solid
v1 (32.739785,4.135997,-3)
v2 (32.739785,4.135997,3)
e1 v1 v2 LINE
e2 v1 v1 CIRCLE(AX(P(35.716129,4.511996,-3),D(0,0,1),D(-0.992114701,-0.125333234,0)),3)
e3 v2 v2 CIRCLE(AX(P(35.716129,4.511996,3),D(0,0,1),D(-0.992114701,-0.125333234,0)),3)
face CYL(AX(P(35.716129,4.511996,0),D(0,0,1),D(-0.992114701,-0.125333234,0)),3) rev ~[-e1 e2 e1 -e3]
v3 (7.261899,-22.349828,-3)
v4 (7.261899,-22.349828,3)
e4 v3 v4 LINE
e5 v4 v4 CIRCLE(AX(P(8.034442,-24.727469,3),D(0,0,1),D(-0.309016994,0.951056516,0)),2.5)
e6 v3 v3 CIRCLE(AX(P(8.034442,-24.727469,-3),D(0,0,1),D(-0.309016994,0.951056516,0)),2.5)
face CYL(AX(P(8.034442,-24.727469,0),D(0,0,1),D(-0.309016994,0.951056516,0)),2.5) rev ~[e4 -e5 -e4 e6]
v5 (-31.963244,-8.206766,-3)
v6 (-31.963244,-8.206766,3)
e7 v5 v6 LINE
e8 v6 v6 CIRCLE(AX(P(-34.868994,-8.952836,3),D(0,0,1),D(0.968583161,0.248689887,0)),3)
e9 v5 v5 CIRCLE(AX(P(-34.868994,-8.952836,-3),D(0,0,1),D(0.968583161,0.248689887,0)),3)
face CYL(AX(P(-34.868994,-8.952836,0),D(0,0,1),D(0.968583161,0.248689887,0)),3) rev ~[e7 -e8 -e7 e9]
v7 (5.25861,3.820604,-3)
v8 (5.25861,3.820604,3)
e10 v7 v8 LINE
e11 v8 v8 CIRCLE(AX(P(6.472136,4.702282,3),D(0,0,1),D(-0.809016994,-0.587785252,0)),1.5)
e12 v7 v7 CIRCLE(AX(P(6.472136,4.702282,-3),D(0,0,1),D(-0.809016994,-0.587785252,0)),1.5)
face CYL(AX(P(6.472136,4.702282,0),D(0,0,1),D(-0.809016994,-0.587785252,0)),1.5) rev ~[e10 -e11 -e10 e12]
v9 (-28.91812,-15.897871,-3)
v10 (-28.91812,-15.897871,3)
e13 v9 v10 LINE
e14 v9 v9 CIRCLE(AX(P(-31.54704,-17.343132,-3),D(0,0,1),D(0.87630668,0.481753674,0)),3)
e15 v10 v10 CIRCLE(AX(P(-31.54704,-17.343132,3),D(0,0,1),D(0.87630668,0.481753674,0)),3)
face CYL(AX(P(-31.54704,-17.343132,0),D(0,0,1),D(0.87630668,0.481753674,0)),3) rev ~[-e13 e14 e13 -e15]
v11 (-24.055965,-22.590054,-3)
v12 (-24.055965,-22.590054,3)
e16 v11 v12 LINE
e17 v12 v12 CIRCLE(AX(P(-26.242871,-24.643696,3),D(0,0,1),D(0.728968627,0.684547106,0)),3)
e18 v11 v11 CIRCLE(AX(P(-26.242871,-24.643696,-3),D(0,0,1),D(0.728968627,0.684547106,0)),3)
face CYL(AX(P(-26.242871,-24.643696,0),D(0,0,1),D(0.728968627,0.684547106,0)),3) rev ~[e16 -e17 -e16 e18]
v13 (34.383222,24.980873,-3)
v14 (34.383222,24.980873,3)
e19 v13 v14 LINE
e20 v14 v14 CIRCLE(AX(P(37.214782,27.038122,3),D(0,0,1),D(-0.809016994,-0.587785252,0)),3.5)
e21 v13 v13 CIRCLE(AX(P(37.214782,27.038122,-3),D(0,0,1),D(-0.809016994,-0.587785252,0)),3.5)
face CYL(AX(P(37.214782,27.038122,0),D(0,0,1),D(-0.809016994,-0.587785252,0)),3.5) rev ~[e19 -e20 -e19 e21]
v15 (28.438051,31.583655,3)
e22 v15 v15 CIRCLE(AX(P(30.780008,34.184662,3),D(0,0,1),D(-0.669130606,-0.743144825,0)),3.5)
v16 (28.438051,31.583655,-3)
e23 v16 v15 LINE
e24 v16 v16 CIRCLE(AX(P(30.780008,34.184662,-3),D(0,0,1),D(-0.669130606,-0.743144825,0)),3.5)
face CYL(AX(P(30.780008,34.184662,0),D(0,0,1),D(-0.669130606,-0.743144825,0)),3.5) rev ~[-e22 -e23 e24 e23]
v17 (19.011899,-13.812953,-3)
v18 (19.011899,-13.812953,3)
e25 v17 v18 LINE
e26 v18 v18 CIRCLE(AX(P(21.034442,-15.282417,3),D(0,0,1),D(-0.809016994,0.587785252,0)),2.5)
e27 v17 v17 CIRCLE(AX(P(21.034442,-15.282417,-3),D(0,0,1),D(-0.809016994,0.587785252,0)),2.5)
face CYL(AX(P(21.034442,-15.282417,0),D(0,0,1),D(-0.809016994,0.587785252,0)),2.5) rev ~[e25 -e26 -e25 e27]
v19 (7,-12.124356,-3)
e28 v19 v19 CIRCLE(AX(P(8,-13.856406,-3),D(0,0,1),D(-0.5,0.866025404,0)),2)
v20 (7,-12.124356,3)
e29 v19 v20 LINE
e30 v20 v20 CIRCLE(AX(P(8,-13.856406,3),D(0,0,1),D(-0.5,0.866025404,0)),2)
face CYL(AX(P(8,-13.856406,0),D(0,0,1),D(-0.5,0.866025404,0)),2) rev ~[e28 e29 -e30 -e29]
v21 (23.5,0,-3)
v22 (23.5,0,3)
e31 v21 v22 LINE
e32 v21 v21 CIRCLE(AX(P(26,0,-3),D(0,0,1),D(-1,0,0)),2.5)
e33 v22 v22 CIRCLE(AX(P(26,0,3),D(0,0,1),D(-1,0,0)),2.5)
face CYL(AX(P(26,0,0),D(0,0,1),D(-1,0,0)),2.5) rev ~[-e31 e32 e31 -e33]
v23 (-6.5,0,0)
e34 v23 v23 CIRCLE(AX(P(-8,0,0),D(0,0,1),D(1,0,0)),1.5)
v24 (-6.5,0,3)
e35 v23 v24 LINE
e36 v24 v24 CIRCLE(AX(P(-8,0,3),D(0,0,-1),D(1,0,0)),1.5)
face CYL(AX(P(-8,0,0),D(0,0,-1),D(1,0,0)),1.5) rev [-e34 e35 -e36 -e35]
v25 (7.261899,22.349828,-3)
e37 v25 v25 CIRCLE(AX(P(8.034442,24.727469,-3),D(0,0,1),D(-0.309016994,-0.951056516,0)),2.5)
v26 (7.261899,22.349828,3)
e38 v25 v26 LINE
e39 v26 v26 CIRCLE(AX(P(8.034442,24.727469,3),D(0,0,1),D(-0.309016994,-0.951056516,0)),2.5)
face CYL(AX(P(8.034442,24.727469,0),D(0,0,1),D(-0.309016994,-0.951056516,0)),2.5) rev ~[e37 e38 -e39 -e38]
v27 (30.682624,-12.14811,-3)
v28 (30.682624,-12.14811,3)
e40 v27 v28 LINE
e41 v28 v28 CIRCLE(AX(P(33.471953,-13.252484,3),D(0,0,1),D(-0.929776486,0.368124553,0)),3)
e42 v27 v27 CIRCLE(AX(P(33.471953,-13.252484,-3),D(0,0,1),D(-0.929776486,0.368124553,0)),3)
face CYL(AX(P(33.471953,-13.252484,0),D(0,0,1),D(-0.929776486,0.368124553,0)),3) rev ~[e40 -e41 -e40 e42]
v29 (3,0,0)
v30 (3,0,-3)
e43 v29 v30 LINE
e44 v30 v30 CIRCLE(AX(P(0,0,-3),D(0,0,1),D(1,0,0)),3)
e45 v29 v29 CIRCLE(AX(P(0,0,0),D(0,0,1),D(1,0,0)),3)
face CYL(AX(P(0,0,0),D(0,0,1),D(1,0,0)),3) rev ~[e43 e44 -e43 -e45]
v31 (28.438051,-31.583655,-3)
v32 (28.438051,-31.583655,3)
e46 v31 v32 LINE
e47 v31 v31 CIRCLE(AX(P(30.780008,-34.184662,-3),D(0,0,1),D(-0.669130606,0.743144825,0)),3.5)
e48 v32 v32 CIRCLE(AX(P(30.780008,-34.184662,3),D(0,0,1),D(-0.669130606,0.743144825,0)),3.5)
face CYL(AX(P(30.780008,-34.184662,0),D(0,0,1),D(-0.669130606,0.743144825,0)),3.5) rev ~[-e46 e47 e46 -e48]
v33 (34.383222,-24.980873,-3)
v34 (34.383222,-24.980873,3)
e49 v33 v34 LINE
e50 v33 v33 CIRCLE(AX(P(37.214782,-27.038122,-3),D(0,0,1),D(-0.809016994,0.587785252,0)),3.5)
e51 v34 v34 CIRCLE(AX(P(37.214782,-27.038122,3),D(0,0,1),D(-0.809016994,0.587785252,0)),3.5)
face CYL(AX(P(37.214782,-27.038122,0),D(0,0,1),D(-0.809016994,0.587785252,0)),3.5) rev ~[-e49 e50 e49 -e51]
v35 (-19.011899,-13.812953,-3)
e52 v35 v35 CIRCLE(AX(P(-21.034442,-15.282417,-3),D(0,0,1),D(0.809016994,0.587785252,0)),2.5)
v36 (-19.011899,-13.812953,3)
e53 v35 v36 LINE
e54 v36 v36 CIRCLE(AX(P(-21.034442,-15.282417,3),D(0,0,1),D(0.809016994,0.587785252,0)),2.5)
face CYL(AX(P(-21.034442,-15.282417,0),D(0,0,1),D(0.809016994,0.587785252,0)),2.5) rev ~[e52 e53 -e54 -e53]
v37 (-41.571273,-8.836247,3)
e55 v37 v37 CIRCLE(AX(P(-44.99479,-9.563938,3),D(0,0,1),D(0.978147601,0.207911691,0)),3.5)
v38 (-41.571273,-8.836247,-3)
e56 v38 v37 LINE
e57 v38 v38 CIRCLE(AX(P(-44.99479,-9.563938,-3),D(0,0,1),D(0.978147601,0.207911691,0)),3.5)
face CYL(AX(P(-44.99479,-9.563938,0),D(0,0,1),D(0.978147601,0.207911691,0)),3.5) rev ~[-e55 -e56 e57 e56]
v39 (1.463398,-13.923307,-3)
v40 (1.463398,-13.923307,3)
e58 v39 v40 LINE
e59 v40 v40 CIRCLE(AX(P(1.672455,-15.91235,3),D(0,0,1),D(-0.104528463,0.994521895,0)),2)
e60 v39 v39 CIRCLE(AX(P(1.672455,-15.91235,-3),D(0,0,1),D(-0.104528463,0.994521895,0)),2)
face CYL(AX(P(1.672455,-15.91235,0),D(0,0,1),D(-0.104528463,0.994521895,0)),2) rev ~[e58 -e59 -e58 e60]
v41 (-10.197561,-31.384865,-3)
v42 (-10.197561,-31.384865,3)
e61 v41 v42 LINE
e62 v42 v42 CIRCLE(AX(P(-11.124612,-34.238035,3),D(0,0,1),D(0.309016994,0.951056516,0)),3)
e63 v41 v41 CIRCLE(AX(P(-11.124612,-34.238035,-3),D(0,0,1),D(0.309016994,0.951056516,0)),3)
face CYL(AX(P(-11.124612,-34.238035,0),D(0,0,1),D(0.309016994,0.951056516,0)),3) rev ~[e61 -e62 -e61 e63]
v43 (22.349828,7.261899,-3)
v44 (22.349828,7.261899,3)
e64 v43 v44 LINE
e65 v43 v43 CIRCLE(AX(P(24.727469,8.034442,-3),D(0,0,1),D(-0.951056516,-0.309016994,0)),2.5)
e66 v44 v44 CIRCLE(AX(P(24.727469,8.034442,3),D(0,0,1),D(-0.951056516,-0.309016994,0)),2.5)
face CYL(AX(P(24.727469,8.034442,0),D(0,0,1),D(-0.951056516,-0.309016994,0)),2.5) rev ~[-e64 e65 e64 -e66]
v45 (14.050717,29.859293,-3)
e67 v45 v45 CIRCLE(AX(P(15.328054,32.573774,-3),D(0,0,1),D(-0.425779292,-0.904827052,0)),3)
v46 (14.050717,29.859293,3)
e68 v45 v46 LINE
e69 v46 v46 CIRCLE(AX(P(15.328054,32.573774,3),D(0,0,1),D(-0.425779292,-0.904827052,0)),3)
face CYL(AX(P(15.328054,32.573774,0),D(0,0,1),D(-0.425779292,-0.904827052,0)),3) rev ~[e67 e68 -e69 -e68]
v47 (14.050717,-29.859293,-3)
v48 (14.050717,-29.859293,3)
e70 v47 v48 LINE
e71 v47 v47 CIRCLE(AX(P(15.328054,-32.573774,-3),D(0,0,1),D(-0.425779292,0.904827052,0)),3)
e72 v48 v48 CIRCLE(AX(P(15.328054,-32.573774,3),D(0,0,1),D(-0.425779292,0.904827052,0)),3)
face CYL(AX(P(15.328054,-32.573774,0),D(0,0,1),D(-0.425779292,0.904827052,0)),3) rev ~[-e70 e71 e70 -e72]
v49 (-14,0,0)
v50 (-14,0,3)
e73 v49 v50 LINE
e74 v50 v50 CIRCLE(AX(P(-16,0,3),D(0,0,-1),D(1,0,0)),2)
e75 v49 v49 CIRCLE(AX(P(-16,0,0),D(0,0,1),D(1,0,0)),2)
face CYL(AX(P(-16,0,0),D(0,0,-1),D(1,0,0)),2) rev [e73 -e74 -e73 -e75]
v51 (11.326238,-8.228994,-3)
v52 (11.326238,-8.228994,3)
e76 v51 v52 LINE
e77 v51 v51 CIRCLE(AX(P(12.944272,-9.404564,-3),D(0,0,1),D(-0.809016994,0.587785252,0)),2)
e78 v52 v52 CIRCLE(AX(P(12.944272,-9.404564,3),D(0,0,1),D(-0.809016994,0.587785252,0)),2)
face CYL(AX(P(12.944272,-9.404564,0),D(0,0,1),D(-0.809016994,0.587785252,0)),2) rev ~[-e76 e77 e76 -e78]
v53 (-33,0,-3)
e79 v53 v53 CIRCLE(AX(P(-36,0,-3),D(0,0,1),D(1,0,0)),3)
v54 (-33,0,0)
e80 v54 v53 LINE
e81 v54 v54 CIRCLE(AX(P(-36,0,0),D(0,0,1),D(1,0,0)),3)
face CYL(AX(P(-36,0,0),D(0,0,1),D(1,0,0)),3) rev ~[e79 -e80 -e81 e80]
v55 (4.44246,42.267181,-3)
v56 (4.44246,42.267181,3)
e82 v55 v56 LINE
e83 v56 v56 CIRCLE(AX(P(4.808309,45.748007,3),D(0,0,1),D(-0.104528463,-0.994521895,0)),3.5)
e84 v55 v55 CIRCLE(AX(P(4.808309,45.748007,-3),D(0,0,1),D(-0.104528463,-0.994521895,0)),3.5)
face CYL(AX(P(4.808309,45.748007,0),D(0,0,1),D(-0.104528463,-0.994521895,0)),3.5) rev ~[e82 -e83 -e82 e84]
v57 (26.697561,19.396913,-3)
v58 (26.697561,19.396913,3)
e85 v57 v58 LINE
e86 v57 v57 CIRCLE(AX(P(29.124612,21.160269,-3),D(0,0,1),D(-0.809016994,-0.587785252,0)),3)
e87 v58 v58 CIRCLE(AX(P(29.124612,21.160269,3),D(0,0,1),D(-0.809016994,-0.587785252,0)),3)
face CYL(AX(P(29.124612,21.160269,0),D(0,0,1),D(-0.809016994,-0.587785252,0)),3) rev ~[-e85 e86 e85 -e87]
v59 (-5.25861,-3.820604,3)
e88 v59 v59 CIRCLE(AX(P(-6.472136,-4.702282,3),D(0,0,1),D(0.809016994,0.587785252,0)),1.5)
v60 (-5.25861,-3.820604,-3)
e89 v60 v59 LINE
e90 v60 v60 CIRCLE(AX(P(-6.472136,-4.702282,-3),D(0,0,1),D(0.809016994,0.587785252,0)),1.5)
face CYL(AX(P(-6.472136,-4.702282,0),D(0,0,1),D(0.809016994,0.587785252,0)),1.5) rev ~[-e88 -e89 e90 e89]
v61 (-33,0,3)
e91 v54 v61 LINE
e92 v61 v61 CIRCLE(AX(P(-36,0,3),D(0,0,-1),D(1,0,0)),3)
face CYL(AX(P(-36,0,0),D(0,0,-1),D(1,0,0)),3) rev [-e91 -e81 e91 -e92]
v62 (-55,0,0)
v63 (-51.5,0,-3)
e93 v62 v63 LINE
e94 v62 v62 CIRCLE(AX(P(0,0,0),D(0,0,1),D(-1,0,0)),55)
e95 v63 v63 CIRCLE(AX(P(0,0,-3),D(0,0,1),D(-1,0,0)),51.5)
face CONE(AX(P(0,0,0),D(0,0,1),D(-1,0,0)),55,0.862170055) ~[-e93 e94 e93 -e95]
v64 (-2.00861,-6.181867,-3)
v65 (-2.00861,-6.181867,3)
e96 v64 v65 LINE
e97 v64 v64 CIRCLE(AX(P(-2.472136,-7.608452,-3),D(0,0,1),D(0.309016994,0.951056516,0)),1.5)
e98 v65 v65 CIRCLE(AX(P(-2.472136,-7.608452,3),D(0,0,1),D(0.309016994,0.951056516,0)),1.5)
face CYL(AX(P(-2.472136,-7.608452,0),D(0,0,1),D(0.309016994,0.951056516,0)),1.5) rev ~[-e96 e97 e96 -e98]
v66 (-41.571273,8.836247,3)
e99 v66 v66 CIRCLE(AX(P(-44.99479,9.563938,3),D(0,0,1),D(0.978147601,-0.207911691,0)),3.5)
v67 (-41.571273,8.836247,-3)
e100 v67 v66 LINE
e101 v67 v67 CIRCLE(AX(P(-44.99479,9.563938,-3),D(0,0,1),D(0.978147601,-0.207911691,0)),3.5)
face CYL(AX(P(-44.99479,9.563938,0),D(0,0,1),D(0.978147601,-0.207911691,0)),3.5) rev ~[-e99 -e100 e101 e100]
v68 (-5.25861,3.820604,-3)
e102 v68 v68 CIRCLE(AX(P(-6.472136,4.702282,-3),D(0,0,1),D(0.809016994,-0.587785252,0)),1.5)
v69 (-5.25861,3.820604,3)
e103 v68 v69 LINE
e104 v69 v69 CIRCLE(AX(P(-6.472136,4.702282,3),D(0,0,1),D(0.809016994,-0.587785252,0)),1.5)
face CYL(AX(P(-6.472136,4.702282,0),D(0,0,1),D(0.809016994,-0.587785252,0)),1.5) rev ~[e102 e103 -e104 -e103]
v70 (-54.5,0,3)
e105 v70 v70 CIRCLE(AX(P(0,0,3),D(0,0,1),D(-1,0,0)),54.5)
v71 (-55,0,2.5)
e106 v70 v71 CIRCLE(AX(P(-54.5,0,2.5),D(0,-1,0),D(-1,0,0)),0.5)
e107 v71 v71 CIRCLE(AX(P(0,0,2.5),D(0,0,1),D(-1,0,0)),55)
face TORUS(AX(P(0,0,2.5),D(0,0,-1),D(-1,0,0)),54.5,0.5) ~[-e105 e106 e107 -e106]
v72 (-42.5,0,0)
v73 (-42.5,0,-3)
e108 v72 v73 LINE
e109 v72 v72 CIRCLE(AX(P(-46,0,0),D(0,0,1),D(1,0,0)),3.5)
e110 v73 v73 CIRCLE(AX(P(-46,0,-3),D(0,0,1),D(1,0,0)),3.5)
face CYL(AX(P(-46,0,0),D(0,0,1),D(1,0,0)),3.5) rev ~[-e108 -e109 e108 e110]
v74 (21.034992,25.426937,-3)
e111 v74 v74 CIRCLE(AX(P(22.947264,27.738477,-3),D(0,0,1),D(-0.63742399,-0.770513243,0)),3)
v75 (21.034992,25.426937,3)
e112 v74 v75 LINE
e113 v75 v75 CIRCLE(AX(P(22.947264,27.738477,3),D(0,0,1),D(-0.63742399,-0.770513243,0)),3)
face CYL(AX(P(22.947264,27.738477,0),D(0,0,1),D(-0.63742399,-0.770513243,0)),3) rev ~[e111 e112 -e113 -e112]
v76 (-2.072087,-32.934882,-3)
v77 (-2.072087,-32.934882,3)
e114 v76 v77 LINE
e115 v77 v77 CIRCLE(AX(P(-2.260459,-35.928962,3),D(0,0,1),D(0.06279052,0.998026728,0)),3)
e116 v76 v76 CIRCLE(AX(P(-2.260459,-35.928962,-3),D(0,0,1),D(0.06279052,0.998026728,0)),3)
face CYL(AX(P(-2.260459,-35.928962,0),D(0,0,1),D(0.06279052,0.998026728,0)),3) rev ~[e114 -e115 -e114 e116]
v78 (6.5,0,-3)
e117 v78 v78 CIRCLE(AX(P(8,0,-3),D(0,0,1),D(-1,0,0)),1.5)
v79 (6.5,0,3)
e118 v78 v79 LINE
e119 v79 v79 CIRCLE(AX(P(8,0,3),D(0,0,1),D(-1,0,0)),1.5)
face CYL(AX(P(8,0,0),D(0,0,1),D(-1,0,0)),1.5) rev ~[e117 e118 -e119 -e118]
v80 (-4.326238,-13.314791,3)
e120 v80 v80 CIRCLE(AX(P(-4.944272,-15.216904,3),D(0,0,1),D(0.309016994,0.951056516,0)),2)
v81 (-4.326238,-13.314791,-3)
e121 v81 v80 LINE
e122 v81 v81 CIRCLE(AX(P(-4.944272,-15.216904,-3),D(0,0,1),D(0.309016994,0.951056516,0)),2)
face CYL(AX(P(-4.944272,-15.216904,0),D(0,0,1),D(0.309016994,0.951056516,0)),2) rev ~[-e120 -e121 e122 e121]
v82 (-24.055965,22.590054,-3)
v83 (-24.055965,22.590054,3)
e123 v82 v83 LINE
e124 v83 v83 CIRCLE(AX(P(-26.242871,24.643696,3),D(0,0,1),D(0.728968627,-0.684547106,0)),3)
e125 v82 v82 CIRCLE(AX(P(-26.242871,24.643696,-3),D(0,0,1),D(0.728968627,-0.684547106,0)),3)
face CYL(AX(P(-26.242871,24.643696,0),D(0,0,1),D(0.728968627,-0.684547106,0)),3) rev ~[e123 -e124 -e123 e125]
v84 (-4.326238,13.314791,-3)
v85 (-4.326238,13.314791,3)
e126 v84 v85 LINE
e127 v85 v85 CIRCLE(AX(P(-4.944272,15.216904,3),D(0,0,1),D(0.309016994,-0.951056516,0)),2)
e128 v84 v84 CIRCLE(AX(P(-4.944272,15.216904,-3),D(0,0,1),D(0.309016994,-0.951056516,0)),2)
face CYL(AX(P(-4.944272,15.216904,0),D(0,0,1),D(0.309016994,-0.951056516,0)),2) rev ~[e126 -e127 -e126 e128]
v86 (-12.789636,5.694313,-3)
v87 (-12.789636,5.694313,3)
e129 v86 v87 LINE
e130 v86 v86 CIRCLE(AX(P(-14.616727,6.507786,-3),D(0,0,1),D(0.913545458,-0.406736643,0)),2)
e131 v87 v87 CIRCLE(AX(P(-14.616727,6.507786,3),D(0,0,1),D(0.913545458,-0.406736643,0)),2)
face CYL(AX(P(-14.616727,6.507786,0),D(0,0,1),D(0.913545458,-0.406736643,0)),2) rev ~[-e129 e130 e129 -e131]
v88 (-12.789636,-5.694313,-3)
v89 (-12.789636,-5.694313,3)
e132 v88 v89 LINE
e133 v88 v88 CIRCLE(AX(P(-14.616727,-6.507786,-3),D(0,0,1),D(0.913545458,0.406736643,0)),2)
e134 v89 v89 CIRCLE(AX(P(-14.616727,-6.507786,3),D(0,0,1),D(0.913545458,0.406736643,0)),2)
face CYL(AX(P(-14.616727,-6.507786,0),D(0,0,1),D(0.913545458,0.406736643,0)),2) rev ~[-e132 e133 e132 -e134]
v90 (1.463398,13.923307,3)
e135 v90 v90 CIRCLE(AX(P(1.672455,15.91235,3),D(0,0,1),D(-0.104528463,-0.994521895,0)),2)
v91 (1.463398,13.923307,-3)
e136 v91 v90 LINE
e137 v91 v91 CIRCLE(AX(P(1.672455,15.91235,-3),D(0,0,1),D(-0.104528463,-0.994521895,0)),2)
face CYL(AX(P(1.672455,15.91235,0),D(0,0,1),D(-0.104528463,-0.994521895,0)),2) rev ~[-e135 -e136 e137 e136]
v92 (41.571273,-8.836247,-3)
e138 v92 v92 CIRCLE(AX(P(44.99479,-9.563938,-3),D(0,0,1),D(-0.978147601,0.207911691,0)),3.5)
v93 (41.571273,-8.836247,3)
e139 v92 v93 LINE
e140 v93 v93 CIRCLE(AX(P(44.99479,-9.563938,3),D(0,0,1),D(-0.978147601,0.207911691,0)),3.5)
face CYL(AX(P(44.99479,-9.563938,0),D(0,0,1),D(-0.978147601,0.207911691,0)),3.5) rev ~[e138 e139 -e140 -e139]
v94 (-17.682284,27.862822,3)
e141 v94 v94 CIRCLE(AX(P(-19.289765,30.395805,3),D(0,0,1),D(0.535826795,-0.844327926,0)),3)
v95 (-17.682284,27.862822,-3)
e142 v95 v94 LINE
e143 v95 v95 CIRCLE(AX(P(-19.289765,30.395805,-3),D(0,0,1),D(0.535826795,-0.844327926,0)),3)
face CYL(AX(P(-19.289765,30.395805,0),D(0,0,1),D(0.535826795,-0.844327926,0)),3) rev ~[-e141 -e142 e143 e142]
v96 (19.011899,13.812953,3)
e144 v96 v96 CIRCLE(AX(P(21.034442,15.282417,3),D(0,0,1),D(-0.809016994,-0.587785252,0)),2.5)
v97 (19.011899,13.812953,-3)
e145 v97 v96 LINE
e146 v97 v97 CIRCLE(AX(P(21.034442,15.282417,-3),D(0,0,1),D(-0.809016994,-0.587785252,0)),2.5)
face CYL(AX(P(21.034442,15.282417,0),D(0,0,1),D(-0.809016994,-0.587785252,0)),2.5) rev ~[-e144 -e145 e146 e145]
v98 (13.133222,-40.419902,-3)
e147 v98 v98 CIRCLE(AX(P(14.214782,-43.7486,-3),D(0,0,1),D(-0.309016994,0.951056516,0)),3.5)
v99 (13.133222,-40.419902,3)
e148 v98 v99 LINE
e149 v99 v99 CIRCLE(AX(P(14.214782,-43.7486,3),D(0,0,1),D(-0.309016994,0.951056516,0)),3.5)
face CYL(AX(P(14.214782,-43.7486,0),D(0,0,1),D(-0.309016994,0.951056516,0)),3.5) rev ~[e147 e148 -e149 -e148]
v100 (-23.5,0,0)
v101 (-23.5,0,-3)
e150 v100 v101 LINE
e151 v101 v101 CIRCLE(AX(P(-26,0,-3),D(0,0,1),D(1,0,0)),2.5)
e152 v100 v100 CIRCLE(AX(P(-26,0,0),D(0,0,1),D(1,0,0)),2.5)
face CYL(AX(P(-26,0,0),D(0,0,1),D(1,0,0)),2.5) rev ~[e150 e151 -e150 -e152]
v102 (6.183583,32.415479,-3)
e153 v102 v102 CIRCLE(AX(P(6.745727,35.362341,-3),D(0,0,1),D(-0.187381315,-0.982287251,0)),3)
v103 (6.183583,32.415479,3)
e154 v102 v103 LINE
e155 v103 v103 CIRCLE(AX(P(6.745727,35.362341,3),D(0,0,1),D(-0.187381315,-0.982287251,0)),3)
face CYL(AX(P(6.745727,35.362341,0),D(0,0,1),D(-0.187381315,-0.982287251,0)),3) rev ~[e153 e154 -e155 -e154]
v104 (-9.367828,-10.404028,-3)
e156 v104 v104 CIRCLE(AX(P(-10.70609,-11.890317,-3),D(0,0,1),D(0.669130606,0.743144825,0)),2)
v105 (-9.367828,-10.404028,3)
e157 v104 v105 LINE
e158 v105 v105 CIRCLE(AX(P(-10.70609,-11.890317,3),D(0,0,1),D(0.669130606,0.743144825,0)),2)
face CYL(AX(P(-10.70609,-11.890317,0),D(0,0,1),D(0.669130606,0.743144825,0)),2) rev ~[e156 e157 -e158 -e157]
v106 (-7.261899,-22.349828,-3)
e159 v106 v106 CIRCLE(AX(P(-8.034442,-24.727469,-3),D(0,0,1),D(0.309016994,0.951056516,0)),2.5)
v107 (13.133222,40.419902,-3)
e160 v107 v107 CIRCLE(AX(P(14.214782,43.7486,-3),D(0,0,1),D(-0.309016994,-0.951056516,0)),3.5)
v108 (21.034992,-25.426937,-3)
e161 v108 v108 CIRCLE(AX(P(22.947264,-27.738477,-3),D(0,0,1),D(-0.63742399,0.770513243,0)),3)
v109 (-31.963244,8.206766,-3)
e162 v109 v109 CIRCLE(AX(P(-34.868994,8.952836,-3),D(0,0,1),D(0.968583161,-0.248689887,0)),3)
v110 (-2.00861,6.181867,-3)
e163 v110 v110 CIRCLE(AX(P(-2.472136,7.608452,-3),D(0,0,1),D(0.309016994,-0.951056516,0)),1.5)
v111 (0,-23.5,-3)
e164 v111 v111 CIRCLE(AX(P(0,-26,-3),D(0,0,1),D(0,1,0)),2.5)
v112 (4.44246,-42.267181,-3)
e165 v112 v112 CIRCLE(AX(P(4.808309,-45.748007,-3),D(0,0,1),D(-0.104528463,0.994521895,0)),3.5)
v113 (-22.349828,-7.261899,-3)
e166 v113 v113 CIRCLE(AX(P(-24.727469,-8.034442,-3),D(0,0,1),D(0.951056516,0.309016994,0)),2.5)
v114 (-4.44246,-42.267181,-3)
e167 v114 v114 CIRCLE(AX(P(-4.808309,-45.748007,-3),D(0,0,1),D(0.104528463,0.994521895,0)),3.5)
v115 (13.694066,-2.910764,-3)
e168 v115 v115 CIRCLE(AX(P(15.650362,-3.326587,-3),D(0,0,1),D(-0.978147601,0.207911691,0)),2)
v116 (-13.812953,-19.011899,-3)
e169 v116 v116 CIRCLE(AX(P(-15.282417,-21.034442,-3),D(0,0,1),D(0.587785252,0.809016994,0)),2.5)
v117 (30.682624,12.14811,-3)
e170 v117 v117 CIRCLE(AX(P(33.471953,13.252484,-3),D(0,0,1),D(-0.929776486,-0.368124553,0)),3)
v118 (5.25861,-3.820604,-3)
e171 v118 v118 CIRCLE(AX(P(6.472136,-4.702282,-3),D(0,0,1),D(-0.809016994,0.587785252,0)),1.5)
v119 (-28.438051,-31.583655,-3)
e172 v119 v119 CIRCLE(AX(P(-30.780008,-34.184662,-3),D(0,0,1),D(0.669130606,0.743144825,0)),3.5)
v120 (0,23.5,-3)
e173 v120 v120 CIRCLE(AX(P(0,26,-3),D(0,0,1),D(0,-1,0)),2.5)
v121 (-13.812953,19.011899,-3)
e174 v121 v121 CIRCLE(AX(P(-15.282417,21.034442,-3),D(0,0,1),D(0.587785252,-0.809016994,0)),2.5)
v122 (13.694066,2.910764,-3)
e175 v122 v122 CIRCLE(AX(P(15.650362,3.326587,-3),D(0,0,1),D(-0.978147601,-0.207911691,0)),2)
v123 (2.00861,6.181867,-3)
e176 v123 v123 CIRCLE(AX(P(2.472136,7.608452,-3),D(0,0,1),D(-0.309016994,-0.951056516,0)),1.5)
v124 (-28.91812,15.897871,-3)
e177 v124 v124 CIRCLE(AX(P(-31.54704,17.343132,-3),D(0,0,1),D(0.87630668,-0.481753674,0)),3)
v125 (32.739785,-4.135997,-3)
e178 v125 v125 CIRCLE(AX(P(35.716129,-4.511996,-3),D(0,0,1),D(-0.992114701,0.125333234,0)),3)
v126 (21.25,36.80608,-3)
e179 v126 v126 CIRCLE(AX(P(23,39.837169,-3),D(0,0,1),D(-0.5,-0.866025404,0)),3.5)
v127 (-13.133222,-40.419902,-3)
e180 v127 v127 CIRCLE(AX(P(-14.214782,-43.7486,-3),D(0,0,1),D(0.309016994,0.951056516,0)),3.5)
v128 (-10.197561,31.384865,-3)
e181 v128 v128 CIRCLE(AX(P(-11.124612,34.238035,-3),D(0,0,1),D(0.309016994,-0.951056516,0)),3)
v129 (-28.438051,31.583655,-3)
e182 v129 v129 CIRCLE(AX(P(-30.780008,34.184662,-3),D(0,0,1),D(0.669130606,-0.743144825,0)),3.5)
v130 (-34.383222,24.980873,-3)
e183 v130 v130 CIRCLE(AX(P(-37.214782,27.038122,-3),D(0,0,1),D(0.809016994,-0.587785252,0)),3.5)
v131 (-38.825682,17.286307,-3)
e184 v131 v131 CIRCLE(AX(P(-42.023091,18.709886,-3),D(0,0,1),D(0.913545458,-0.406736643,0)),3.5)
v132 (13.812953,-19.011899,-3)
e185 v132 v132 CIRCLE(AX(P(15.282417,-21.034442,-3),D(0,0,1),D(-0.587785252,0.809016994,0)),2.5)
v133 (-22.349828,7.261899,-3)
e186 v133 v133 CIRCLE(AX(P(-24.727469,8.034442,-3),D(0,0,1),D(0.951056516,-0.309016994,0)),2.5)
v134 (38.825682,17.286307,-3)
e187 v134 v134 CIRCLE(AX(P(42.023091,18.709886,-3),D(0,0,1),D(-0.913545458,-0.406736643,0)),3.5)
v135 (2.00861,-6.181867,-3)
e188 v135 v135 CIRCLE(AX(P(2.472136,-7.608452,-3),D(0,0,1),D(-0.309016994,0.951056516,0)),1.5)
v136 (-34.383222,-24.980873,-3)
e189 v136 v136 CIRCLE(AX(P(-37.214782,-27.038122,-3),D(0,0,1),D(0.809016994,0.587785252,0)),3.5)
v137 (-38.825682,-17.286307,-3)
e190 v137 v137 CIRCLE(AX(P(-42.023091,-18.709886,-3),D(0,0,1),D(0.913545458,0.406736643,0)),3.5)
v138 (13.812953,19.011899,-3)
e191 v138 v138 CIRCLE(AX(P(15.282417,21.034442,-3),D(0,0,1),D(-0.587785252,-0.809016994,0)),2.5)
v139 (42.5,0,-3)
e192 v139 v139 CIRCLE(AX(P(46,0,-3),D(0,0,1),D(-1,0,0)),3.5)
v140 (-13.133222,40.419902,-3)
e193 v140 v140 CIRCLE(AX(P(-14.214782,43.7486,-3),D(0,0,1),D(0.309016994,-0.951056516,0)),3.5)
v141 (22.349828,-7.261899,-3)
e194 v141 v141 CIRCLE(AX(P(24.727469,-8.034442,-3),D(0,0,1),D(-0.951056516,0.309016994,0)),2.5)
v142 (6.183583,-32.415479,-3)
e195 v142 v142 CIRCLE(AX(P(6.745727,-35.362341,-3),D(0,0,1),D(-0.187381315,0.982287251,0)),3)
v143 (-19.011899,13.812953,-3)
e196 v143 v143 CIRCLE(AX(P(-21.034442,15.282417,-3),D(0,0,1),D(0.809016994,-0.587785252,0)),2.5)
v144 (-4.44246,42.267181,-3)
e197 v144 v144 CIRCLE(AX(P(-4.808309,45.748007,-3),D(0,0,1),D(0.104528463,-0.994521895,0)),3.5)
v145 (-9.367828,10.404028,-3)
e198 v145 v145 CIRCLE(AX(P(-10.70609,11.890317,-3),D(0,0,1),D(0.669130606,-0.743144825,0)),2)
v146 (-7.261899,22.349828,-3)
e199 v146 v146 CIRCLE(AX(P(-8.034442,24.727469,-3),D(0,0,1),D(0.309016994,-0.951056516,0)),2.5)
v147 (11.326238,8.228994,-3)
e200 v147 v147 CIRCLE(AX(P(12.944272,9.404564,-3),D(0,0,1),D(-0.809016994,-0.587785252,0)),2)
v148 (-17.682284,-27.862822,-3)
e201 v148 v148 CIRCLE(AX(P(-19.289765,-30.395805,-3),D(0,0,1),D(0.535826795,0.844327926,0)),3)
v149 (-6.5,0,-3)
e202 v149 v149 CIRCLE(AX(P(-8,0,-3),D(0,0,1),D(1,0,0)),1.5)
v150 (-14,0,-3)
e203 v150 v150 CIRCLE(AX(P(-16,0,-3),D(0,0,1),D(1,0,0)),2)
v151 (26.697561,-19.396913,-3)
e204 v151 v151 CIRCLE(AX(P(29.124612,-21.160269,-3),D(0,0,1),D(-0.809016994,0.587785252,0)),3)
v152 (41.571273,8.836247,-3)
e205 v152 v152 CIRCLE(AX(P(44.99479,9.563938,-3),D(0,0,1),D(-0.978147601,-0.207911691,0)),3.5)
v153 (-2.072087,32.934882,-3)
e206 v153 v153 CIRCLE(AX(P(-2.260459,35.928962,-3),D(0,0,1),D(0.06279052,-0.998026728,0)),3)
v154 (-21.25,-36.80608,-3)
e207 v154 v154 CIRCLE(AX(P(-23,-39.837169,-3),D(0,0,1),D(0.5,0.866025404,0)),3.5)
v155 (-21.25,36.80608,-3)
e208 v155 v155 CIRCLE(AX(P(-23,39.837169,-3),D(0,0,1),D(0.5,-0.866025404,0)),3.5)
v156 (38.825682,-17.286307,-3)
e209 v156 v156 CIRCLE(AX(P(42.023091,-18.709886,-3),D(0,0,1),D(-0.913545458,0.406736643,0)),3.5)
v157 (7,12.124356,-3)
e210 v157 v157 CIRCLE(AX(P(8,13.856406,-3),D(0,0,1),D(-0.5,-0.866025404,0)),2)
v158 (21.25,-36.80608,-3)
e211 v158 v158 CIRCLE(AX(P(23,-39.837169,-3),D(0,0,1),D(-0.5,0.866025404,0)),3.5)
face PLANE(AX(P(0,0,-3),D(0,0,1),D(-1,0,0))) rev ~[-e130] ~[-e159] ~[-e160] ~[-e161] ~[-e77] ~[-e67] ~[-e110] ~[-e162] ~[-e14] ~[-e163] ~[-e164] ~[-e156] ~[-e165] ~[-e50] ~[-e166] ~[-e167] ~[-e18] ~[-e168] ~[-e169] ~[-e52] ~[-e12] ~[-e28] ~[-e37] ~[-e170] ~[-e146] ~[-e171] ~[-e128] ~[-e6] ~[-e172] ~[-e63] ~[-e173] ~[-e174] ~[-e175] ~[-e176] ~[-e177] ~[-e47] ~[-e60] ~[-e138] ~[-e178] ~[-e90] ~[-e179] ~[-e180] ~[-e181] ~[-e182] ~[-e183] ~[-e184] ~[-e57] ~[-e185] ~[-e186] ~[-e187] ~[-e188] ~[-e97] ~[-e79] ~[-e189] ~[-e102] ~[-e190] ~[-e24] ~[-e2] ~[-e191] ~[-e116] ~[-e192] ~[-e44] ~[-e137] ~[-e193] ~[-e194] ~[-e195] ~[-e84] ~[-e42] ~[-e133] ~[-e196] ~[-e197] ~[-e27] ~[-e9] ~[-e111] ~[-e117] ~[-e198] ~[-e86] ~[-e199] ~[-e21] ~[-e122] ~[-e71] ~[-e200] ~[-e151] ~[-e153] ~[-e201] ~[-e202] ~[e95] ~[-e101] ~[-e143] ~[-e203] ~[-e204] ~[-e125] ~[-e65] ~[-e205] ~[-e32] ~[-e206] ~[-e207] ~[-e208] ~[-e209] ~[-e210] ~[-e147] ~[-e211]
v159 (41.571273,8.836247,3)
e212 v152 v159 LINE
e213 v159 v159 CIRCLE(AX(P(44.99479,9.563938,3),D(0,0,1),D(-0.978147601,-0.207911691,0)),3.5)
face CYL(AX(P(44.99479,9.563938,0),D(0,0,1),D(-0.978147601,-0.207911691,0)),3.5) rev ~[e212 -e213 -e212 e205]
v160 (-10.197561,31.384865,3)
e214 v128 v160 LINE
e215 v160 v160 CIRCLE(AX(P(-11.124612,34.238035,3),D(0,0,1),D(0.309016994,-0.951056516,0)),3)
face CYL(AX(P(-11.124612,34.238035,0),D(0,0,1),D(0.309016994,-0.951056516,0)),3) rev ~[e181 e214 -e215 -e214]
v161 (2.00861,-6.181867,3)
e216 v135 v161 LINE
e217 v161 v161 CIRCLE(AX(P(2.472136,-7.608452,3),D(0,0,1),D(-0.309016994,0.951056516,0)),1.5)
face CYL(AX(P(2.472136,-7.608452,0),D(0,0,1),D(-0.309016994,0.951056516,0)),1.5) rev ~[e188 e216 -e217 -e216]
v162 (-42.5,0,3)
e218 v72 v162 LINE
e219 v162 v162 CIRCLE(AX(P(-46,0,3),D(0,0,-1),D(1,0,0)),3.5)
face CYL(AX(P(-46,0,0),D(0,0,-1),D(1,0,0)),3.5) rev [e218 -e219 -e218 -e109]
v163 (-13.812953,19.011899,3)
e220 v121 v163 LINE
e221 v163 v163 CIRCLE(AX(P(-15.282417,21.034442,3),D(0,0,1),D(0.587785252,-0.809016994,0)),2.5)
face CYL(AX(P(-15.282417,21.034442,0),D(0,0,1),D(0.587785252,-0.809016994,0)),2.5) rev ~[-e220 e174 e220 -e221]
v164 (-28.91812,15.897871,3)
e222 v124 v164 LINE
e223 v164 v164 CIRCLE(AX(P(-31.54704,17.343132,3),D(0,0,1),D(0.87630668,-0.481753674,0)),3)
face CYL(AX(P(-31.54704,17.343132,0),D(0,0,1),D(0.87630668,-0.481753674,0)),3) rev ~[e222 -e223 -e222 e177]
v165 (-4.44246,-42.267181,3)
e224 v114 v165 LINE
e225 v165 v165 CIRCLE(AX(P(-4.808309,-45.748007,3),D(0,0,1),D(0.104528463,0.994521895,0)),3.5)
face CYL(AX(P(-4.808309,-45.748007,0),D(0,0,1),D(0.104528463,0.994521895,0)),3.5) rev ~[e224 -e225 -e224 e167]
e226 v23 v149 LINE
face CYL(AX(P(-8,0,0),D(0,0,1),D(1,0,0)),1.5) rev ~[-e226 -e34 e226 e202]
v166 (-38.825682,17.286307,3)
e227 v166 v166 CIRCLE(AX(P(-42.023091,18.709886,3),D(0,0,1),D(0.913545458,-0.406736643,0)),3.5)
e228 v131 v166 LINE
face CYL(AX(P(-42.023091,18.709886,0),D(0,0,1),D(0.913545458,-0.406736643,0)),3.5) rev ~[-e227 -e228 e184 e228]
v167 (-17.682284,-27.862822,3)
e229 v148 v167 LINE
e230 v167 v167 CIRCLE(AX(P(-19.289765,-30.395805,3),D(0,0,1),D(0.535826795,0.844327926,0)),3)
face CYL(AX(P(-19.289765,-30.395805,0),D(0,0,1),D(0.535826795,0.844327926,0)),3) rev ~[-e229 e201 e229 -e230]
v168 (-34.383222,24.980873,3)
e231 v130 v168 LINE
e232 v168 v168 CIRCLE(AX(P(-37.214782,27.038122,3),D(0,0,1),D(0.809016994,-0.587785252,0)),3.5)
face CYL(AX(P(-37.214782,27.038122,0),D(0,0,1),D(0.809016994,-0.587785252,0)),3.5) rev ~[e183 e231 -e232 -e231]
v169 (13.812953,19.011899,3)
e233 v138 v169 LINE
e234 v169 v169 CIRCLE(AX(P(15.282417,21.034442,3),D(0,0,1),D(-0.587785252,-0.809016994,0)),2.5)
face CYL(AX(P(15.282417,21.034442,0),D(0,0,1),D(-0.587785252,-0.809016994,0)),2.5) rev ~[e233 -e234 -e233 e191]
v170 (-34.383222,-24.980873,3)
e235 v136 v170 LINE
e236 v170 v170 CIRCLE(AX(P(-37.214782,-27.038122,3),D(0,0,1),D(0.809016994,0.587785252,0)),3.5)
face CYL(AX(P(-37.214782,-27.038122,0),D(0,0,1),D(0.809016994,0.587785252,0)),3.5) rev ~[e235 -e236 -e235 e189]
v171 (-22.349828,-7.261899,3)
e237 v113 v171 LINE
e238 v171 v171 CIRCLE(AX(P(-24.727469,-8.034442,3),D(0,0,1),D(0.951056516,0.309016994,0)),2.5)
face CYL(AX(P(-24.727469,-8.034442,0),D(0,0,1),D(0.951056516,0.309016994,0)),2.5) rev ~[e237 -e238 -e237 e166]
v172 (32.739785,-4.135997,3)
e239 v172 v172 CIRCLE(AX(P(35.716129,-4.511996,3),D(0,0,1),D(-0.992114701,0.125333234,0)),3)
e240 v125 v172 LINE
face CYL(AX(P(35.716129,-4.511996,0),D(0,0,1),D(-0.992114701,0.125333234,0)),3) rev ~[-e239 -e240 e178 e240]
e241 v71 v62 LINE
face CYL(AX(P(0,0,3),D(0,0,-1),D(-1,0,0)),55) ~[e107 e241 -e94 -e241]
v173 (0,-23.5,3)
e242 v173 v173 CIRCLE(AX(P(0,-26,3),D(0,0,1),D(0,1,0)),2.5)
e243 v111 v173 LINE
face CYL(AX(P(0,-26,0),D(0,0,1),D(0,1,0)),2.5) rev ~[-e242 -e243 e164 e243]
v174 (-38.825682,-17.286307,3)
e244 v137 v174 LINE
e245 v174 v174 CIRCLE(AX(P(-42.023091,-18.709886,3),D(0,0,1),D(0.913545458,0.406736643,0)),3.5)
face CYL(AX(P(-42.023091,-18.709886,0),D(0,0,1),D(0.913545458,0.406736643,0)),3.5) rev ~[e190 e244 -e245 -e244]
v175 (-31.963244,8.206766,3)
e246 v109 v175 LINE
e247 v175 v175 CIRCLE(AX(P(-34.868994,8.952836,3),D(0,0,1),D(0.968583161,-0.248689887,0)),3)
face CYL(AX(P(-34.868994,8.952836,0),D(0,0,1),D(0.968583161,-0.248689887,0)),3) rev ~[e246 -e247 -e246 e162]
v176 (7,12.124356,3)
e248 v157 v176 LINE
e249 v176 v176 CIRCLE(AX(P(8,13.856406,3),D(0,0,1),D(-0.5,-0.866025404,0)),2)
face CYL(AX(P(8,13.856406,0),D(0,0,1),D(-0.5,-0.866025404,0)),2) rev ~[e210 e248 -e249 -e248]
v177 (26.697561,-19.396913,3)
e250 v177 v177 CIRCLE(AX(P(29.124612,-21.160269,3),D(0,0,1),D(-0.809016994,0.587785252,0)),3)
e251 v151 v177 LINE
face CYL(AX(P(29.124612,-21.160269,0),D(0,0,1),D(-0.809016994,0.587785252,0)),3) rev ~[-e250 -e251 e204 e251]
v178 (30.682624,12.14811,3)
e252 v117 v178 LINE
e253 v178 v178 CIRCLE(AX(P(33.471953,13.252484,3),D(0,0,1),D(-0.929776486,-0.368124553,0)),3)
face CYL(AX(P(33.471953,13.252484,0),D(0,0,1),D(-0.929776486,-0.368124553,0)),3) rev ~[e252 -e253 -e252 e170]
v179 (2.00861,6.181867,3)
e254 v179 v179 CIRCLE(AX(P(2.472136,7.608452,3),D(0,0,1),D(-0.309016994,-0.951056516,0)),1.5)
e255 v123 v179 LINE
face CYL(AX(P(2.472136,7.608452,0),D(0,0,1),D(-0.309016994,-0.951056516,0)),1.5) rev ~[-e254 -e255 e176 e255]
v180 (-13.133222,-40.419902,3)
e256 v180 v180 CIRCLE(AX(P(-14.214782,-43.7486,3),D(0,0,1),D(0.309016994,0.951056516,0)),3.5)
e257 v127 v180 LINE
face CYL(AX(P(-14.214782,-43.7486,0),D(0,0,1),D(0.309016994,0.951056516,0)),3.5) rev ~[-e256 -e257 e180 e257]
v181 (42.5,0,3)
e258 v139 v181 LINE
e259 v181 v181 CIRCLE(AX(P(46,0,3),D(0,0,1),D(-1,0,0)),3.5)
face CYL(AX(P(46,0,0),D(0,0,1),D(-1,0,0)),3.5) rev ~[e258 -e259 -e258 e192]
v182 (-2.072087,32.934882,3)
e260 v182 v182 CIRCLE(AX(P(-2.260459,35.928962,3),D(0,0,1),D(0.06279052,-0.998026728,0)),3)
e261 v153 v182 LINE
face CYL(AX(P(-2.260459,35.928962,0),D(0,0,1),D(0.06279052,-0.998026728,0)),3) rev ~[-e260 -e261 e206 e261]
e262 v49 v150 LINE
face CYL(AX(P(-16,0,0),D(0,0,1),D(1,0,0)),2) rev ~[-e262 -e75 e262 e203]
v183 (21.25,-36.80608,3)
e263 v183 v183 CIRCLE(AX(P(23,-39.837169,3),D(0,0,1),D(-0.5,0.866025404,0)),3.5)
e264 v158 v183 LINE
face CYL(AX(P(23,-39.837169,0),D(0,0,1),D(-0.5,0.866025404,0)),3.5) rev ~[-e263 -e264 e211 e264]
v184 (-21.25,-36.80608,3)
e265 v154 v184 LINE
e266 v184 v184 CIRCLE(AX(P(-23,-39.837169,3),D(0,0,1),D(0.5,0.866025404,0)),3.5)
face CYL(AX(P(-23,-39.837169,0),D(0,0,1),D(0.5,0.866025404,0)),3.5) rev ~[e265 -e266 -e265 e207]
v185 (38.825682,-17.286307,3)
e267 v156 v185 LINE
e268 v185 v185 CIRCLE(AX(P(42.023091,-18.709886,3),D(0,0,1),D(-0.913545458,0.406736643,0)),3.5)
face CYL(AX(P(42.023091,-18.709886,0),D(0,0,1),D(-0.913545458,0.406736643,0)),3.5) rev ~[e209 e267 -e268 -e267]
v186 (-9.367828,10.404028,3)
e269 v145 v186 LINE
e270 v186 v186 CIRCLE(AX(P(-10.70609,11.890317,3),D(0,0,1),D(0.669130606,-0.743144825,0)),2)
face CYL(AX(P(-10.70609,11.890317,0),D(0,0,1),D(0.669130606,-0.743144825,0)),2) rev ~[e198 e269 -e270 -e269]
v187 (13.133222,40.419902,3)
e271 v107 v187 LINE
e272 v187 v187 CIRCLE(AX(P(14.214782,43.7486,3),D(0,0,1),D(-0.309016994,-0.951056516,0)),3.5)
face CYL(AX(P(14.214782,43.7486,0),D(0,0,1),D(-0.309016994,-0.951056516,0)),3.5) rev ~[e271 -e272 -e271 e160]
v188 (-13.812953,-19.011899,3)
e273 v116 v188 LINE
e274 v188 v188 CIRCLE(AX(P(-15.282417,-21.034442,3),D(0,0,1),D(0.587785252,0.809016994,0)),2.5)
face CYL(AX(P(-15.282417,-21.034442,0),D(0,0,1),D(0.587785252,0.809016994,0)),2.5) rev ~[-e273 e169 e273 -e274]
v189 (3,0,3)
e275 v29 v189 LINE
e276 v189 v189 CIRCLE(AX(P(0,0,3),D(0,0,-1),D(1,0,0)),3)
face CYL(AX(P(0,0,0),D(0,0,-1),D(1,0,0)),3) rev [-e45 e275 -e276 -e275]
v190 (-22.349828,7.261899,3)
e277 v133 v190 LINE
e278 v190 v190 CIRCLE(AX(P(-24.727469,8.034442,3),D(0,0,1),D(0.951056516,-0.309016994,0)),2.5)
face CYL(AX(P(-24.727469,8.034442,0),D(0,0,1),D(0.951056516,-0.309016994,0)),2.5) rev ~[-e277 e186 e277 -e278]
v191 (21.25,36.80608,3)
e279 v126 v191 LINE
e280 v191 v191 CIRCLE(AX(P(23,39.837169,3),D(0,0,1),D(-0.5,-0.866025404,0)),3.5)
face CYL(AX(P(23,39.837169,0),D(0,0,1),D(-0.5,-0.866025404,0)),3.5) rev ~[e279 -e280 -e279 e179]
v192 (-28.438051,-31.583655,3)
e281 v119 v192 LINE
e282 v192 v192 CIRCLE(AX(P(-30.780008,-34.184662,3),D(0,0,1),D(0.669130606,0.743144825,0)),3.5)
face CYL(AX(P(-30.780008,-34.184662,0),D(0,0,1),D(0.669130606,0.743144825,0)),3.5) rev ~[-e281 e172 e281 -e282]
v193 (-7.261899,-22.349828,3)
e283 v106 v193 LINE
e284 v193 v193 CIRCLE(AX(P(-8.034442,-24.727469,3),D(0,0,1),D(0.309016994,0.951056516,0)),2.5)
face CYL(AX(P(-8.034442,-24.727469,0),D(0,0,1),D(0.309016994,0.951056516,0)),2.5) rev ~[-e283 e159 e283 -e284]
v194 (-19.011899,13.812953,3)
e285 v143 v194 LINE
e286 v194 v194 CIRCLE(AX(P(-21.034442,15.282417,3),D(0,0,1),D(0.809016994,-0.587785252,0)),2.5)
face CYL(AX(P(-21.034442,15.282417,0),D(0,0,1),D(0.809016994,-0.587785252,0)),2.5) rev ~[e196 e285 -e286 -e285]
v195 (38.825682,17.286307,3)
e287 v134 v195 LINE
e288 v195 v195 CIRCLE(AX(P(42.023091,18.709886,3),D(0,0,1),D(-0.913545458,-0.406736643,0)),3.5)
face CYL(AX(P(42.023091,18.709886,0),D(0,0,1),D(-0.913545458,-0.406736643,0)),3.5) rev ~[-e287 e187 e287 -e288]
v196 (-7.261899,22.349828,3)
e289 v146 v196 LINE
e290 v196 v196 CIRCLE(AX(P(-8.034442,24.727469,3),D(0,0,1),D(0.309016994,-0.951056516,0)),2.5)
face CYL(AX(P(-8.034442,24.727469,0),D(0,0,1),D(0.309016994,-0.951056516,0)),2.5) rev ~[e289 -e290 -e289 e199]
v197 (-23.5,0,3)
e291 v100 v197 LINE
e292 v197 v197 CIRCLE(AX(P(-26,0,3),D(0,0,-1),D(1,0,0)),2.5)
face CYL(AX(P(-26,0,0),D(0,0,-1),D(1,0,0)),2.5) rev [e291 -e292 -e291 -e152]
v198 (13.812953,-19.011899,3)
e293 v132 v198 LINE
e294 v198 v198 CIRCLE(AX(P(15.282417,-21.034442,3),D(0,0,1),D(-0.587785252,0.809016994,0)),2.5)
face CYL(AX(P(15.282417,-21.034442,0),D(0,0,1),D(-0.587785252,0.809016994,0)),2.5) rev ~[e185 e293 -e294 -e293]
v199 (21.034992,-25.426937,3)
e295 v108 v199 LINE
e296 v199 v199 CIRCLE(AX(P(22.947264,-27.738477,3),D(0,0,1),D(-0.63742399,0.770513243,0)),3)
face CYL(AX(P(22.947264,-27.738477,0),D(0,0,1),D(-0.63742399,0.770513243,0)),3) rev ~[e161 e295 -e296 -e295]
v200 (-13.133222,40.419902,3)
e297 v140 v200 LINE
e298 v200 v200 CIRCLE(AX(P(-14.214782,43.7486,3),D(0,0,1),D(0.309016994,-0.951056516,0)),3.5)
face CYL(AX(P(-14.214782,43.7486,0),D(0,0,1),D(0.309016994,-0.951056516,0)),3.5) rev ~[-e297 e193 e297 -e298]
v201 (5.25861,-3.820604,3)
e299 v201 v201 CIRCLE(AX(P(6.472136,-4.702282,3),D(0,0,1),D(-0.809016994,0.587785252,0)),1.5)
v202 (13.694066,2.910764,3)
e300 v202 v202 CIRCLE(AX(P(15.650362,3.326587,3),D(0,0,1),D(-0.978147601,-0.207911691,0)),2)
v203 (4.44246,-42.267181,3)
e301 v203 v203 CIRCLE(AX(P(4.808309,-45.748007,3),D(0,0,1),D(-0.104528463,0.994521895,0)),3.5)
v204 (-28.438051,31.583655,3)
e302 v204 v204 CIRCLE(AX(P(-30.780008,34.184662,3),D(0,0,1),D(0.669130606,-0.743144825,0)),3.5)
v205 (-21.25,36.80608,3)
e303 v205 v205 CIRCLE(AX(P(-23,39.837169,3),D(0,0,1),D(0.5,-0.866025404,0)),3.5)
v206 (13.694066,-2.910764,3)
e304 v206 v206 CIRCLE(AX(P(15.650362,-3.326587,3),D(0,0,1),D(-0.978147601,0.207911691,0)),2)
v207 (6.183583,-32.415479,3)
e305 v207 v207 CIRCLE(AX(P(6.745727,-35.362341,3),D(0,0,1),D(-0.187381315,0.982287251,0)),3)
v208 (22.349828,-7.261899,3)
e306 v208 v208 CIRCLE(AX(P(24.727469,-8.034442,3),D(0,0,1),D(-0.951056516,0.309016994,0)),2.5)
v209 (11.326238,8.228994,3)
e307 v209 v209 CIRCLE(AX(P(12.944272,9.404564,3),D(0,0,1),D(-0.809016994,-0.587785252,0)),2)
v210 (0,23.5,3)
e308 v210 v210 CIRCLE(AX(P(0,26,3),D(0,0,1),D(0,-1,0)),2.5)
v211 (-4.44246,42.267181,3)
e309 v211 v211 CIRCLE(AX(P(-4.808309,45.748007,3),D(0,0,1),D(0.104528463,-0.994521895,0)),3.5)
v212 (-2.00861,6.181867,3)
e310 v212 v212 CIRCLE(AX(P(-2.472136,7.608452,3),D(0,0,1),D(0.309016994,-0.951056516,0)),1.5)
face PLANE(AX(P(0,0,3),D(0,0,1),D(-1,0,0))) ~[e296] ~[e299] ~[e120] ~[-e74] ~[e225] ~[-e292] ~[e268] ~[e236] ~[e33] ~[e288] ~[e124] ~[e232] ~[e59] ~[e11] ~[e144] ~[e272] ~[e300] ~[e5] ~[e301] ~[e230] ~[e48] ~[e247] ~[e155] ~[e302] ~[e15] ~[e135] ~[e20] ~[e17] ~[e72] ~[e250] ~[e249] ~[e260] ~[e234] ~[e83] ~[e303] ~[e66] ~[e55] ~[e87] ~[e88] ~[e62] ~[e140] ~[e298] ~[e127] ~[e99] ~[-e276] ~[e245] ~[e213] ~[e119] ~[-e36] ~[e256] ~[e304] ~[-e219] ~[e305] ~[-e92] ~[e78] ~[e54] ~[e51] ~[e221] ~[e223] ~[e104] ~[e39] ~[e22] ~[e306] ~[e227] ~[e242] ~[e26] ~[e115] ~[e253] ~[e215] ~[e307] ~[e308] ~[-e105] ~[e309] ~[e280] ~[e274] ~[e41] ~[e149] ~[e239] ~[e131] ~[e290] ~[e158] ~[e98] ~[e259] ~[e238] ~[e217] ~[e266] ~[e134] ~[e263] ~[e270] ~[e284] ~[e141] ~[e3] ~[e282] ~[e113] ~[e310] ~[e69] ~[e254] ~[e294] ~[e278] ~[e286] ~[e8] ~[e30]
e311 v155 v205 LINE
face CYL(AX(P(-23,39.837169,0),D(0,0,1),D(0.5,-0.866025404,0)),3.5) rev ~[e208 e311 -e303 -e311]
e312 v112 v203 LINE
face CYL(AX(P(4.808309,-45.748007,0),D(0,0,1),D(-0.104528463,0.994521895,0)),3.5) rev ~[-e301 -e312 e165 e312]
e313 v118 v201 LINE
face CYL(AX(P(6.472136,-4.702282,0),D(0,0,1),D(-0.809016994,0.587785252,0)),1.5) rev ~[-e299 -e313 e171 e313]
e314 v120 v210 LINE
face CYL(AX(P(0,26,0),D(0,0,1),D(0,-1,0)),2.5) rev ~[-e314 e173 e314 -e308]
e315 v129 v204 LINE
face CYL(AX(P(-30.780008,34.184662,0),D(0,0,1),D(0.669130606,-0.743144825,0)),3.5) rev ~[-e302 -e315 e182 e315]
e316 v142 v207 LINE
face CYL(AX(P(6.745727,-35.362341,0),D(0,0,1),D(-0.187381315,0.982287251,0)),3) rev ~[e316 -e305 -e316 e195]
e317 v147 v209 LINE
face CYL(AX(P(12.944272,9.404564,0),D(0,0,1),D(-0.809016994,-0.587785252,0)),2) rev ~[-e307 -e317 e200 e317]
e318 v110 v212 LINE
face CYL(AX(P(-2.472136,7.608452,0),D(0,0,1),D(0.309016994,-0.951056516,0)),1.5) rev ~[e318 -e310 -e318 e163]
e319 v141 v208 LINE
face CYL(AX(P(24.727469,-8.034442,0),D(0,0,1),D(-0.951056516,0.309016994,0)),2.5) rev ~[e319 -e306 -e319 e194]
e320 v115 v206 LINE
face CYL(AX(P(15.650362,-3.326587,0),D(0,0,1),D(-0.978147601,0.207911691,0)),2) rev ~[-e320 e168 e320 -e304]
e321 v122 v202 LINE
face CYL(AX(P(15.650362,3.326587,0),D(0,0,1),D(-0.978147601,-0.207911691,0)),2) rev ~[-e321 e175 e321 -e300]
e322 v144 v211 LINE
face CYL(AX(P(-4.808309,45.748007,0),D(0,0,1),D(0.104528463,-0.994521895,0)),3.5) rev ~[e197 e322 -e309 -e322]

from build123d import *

# Parameters (mm, degrees)
SKETCH020_R           = 3.5
POCKET008_DEPTH       = 100
POCKET008_DEPTH_BACK  = 100
SKETCH021_R           = 3
POCKET009_DEPTH       = 100
POCKET009_DEPTH_BACK  = 100
SKETCH022_R           = 2.5
POCKET010_DEPTH       = 100
POCKET010_DEPTH_BACK  = 100
SKETCH023_R           = 2
POCKET011_DEPTH       = 100
POCKET011_DEPTH_BACK  = 100
SKETCH024_R           = 1.5
POCKET012_DEPTH       = 100
POCKET012_DEPTH_BACK  = 100
SKETCH025_R           = 3
POCKET013_DEPTH       = 100
POCKET013_DEPTH_BACK  = 100
POLARPATTERN005_COUNT = 30
POLARPATTERN006_COUNT = 25
POLARPATTERN007_COUNT = 20
POLARPATTERN008_COUNT = 15
POLARPATTERN009_COUNT = 10
FILLET_R              = 0.5


with BuildPart() as part:
    # Sketch003 → Revolution001 (revolve)
    with BuildSketch(Plane.XZ):
        Polygon((0, 3), (-55, 3), (-55, 0), (-51.5, -3), (0, -3), align=None)
    revolve(axis=Axis((0, 0, 0), (0, 0, 1)))

    # Sketch020 → Pocket008 (cut, two sides)
    with BuildSketch(Plane.XY) as pocket008_sk:
        with Locations((-46, 0)):
            Circle(SKETCH020_R)
    pocket008 = extrude(amount=-POCKET008_DEPTH, mode=Mode.SUBTRACT) + extrude(pocket008_sk.sketch, amount=POCKET008_DEPTH_BACK, mode=Mode.SUBTRACT)

    # Sketch021 → Pocket009 (cut, two sides)
    with BuildSketch(Plane.XY) as pocket009_sk:
        with Locations((-36, 0)):
            Circle(SKETCH021_R)
    pocket009 = extrude(amount=-POCKET009_DEPTH, mode=Mode.SUBTRACT) + extrude(pocket009_sk.sketch, amount=POCKET009_DEPTH_BACK, mode=Mode.SUBTRACT)

    # Sketch022 → Pocket010 (cut, two sides)
    with BuildSketch(Plane.XY) as pocket010_sk:
        with Locations((-26, 0)):
            Circle(SKETCH022_R)
    pocket010 = extrude(amount=-POCKET010_DEPTH, mode=Mode.SUBTRACT) + extrude(pocket010_sk.sketch, amount=POCKET010_DEPTH_BACK, mode=Mode.SUBTRACT)

    # Sketch023 → Pocket011 (cut, two sides)
    with BuildSketch(Plane.XY) as pocket011_sk:
        with Locations((-16, 0)):
            Circle(SKETCH023_R)
    pocket011 = extrude(amount=-POCKET011_DEPTH, mode=Mode.SUBTRACT) + extrude(pocket011_sk.sketch, amount=POCKET011_DEPTH_BACK, mode=Mode.SUBTRACT)

    # Sketch024 → Pocket012 (cut, two sides)
    with BuildSketch(Plane.XY) as pocket012_sk:
        with Locations((-8, 0)):
            Circle(SKETCH024_R)
    pocket012 = extrude(amount=-POCKET012_DEPTH, mode=Mode.SUBTRACT) + extrude(pocket012_sk.sketch, amount=POCKET012_DEPTH_BACK, mode=Mode.SUBTRACT)

    # Sketch025 → Pocket013 (cut, two sides)
    with BuildSketch(Plane.XY) as pocket013_sk:
        Circle(SKETCH025_R)
    extrude(amount=-POCKET013_DEPTH, mode=Mode.SUBTRACT)
    extrude(pocket013_sk.sketch, amount=POCKET013_DEPTH_BACK, mode=Mode.SUBTRACT)

    # PolarPattern005: Pocket008 ×30 about axis
    polarpattern005_axis = Axis((0, 0, 0), (0, 0, 1))
    for i in range(1, POLARPATTERN005_COUNT):
        add(pocket008.rotate(polarpattern005_axis, i * 360 / POLARPATTERN005_COUNT), mode=Mode.SUBTRACT)

    # PolarPattern006: Pocket009 ×25 about axis
    polarpattern006_axis = Axis((0, 0, 0), (0, 0, 1))
    for i in range(1, POLARPATTERN006_COUNT):
        add(pocket009.rotate(polarpattern006_axis, i * 360 / POLARPATTERN006_COUNT), mode=Mode.SUBTRACT)

    # PolarPattern007: Pocket010 ×20 about axis
    polarpattern007_axis = Axis((0, 0, 0), (0, 0, 1))
    for i in range(1, POLARPATTERN007_COUNT):
        add(pocket010.rotate(polarpattern007_axis, i * 360 / POLARPATTERN007_COUNT), mode=Mode.SUBTRACT)

    # PolarPattern008: Pocket011 ×15 about axis
    polarpattern008_axis = Axis((0, 0, 0), (0, 0, 1))
    for i in range(1, POLARPATTERN008_COUNT):
        add(pocket011.rotate(polarpattern008_axis, i * 360 / POLARPATTERN008_COUNT), mode=Mode.SUBTRACT)

    # PolarPattern009: Pocket012 ×10 about axis
    polarpattern009_axis = Axis((0, 0, 0), (0, 0, 1))
    for i in range(1, POLARPATTERN009_COUNT):
        add(pocket012.rotate(polarpattern009_axis, i * 360 / POLARPATTERN009_COUNT), mode=Mode.SUBTRACT)

    # Fillet
    fillet_edges = [part.edges().sort_by_distance(p)[0] for p in [
        (55, 0, 3),
    ]]
    fillet(fillet_edges, radius=FILLET_R)


solid = part.part
